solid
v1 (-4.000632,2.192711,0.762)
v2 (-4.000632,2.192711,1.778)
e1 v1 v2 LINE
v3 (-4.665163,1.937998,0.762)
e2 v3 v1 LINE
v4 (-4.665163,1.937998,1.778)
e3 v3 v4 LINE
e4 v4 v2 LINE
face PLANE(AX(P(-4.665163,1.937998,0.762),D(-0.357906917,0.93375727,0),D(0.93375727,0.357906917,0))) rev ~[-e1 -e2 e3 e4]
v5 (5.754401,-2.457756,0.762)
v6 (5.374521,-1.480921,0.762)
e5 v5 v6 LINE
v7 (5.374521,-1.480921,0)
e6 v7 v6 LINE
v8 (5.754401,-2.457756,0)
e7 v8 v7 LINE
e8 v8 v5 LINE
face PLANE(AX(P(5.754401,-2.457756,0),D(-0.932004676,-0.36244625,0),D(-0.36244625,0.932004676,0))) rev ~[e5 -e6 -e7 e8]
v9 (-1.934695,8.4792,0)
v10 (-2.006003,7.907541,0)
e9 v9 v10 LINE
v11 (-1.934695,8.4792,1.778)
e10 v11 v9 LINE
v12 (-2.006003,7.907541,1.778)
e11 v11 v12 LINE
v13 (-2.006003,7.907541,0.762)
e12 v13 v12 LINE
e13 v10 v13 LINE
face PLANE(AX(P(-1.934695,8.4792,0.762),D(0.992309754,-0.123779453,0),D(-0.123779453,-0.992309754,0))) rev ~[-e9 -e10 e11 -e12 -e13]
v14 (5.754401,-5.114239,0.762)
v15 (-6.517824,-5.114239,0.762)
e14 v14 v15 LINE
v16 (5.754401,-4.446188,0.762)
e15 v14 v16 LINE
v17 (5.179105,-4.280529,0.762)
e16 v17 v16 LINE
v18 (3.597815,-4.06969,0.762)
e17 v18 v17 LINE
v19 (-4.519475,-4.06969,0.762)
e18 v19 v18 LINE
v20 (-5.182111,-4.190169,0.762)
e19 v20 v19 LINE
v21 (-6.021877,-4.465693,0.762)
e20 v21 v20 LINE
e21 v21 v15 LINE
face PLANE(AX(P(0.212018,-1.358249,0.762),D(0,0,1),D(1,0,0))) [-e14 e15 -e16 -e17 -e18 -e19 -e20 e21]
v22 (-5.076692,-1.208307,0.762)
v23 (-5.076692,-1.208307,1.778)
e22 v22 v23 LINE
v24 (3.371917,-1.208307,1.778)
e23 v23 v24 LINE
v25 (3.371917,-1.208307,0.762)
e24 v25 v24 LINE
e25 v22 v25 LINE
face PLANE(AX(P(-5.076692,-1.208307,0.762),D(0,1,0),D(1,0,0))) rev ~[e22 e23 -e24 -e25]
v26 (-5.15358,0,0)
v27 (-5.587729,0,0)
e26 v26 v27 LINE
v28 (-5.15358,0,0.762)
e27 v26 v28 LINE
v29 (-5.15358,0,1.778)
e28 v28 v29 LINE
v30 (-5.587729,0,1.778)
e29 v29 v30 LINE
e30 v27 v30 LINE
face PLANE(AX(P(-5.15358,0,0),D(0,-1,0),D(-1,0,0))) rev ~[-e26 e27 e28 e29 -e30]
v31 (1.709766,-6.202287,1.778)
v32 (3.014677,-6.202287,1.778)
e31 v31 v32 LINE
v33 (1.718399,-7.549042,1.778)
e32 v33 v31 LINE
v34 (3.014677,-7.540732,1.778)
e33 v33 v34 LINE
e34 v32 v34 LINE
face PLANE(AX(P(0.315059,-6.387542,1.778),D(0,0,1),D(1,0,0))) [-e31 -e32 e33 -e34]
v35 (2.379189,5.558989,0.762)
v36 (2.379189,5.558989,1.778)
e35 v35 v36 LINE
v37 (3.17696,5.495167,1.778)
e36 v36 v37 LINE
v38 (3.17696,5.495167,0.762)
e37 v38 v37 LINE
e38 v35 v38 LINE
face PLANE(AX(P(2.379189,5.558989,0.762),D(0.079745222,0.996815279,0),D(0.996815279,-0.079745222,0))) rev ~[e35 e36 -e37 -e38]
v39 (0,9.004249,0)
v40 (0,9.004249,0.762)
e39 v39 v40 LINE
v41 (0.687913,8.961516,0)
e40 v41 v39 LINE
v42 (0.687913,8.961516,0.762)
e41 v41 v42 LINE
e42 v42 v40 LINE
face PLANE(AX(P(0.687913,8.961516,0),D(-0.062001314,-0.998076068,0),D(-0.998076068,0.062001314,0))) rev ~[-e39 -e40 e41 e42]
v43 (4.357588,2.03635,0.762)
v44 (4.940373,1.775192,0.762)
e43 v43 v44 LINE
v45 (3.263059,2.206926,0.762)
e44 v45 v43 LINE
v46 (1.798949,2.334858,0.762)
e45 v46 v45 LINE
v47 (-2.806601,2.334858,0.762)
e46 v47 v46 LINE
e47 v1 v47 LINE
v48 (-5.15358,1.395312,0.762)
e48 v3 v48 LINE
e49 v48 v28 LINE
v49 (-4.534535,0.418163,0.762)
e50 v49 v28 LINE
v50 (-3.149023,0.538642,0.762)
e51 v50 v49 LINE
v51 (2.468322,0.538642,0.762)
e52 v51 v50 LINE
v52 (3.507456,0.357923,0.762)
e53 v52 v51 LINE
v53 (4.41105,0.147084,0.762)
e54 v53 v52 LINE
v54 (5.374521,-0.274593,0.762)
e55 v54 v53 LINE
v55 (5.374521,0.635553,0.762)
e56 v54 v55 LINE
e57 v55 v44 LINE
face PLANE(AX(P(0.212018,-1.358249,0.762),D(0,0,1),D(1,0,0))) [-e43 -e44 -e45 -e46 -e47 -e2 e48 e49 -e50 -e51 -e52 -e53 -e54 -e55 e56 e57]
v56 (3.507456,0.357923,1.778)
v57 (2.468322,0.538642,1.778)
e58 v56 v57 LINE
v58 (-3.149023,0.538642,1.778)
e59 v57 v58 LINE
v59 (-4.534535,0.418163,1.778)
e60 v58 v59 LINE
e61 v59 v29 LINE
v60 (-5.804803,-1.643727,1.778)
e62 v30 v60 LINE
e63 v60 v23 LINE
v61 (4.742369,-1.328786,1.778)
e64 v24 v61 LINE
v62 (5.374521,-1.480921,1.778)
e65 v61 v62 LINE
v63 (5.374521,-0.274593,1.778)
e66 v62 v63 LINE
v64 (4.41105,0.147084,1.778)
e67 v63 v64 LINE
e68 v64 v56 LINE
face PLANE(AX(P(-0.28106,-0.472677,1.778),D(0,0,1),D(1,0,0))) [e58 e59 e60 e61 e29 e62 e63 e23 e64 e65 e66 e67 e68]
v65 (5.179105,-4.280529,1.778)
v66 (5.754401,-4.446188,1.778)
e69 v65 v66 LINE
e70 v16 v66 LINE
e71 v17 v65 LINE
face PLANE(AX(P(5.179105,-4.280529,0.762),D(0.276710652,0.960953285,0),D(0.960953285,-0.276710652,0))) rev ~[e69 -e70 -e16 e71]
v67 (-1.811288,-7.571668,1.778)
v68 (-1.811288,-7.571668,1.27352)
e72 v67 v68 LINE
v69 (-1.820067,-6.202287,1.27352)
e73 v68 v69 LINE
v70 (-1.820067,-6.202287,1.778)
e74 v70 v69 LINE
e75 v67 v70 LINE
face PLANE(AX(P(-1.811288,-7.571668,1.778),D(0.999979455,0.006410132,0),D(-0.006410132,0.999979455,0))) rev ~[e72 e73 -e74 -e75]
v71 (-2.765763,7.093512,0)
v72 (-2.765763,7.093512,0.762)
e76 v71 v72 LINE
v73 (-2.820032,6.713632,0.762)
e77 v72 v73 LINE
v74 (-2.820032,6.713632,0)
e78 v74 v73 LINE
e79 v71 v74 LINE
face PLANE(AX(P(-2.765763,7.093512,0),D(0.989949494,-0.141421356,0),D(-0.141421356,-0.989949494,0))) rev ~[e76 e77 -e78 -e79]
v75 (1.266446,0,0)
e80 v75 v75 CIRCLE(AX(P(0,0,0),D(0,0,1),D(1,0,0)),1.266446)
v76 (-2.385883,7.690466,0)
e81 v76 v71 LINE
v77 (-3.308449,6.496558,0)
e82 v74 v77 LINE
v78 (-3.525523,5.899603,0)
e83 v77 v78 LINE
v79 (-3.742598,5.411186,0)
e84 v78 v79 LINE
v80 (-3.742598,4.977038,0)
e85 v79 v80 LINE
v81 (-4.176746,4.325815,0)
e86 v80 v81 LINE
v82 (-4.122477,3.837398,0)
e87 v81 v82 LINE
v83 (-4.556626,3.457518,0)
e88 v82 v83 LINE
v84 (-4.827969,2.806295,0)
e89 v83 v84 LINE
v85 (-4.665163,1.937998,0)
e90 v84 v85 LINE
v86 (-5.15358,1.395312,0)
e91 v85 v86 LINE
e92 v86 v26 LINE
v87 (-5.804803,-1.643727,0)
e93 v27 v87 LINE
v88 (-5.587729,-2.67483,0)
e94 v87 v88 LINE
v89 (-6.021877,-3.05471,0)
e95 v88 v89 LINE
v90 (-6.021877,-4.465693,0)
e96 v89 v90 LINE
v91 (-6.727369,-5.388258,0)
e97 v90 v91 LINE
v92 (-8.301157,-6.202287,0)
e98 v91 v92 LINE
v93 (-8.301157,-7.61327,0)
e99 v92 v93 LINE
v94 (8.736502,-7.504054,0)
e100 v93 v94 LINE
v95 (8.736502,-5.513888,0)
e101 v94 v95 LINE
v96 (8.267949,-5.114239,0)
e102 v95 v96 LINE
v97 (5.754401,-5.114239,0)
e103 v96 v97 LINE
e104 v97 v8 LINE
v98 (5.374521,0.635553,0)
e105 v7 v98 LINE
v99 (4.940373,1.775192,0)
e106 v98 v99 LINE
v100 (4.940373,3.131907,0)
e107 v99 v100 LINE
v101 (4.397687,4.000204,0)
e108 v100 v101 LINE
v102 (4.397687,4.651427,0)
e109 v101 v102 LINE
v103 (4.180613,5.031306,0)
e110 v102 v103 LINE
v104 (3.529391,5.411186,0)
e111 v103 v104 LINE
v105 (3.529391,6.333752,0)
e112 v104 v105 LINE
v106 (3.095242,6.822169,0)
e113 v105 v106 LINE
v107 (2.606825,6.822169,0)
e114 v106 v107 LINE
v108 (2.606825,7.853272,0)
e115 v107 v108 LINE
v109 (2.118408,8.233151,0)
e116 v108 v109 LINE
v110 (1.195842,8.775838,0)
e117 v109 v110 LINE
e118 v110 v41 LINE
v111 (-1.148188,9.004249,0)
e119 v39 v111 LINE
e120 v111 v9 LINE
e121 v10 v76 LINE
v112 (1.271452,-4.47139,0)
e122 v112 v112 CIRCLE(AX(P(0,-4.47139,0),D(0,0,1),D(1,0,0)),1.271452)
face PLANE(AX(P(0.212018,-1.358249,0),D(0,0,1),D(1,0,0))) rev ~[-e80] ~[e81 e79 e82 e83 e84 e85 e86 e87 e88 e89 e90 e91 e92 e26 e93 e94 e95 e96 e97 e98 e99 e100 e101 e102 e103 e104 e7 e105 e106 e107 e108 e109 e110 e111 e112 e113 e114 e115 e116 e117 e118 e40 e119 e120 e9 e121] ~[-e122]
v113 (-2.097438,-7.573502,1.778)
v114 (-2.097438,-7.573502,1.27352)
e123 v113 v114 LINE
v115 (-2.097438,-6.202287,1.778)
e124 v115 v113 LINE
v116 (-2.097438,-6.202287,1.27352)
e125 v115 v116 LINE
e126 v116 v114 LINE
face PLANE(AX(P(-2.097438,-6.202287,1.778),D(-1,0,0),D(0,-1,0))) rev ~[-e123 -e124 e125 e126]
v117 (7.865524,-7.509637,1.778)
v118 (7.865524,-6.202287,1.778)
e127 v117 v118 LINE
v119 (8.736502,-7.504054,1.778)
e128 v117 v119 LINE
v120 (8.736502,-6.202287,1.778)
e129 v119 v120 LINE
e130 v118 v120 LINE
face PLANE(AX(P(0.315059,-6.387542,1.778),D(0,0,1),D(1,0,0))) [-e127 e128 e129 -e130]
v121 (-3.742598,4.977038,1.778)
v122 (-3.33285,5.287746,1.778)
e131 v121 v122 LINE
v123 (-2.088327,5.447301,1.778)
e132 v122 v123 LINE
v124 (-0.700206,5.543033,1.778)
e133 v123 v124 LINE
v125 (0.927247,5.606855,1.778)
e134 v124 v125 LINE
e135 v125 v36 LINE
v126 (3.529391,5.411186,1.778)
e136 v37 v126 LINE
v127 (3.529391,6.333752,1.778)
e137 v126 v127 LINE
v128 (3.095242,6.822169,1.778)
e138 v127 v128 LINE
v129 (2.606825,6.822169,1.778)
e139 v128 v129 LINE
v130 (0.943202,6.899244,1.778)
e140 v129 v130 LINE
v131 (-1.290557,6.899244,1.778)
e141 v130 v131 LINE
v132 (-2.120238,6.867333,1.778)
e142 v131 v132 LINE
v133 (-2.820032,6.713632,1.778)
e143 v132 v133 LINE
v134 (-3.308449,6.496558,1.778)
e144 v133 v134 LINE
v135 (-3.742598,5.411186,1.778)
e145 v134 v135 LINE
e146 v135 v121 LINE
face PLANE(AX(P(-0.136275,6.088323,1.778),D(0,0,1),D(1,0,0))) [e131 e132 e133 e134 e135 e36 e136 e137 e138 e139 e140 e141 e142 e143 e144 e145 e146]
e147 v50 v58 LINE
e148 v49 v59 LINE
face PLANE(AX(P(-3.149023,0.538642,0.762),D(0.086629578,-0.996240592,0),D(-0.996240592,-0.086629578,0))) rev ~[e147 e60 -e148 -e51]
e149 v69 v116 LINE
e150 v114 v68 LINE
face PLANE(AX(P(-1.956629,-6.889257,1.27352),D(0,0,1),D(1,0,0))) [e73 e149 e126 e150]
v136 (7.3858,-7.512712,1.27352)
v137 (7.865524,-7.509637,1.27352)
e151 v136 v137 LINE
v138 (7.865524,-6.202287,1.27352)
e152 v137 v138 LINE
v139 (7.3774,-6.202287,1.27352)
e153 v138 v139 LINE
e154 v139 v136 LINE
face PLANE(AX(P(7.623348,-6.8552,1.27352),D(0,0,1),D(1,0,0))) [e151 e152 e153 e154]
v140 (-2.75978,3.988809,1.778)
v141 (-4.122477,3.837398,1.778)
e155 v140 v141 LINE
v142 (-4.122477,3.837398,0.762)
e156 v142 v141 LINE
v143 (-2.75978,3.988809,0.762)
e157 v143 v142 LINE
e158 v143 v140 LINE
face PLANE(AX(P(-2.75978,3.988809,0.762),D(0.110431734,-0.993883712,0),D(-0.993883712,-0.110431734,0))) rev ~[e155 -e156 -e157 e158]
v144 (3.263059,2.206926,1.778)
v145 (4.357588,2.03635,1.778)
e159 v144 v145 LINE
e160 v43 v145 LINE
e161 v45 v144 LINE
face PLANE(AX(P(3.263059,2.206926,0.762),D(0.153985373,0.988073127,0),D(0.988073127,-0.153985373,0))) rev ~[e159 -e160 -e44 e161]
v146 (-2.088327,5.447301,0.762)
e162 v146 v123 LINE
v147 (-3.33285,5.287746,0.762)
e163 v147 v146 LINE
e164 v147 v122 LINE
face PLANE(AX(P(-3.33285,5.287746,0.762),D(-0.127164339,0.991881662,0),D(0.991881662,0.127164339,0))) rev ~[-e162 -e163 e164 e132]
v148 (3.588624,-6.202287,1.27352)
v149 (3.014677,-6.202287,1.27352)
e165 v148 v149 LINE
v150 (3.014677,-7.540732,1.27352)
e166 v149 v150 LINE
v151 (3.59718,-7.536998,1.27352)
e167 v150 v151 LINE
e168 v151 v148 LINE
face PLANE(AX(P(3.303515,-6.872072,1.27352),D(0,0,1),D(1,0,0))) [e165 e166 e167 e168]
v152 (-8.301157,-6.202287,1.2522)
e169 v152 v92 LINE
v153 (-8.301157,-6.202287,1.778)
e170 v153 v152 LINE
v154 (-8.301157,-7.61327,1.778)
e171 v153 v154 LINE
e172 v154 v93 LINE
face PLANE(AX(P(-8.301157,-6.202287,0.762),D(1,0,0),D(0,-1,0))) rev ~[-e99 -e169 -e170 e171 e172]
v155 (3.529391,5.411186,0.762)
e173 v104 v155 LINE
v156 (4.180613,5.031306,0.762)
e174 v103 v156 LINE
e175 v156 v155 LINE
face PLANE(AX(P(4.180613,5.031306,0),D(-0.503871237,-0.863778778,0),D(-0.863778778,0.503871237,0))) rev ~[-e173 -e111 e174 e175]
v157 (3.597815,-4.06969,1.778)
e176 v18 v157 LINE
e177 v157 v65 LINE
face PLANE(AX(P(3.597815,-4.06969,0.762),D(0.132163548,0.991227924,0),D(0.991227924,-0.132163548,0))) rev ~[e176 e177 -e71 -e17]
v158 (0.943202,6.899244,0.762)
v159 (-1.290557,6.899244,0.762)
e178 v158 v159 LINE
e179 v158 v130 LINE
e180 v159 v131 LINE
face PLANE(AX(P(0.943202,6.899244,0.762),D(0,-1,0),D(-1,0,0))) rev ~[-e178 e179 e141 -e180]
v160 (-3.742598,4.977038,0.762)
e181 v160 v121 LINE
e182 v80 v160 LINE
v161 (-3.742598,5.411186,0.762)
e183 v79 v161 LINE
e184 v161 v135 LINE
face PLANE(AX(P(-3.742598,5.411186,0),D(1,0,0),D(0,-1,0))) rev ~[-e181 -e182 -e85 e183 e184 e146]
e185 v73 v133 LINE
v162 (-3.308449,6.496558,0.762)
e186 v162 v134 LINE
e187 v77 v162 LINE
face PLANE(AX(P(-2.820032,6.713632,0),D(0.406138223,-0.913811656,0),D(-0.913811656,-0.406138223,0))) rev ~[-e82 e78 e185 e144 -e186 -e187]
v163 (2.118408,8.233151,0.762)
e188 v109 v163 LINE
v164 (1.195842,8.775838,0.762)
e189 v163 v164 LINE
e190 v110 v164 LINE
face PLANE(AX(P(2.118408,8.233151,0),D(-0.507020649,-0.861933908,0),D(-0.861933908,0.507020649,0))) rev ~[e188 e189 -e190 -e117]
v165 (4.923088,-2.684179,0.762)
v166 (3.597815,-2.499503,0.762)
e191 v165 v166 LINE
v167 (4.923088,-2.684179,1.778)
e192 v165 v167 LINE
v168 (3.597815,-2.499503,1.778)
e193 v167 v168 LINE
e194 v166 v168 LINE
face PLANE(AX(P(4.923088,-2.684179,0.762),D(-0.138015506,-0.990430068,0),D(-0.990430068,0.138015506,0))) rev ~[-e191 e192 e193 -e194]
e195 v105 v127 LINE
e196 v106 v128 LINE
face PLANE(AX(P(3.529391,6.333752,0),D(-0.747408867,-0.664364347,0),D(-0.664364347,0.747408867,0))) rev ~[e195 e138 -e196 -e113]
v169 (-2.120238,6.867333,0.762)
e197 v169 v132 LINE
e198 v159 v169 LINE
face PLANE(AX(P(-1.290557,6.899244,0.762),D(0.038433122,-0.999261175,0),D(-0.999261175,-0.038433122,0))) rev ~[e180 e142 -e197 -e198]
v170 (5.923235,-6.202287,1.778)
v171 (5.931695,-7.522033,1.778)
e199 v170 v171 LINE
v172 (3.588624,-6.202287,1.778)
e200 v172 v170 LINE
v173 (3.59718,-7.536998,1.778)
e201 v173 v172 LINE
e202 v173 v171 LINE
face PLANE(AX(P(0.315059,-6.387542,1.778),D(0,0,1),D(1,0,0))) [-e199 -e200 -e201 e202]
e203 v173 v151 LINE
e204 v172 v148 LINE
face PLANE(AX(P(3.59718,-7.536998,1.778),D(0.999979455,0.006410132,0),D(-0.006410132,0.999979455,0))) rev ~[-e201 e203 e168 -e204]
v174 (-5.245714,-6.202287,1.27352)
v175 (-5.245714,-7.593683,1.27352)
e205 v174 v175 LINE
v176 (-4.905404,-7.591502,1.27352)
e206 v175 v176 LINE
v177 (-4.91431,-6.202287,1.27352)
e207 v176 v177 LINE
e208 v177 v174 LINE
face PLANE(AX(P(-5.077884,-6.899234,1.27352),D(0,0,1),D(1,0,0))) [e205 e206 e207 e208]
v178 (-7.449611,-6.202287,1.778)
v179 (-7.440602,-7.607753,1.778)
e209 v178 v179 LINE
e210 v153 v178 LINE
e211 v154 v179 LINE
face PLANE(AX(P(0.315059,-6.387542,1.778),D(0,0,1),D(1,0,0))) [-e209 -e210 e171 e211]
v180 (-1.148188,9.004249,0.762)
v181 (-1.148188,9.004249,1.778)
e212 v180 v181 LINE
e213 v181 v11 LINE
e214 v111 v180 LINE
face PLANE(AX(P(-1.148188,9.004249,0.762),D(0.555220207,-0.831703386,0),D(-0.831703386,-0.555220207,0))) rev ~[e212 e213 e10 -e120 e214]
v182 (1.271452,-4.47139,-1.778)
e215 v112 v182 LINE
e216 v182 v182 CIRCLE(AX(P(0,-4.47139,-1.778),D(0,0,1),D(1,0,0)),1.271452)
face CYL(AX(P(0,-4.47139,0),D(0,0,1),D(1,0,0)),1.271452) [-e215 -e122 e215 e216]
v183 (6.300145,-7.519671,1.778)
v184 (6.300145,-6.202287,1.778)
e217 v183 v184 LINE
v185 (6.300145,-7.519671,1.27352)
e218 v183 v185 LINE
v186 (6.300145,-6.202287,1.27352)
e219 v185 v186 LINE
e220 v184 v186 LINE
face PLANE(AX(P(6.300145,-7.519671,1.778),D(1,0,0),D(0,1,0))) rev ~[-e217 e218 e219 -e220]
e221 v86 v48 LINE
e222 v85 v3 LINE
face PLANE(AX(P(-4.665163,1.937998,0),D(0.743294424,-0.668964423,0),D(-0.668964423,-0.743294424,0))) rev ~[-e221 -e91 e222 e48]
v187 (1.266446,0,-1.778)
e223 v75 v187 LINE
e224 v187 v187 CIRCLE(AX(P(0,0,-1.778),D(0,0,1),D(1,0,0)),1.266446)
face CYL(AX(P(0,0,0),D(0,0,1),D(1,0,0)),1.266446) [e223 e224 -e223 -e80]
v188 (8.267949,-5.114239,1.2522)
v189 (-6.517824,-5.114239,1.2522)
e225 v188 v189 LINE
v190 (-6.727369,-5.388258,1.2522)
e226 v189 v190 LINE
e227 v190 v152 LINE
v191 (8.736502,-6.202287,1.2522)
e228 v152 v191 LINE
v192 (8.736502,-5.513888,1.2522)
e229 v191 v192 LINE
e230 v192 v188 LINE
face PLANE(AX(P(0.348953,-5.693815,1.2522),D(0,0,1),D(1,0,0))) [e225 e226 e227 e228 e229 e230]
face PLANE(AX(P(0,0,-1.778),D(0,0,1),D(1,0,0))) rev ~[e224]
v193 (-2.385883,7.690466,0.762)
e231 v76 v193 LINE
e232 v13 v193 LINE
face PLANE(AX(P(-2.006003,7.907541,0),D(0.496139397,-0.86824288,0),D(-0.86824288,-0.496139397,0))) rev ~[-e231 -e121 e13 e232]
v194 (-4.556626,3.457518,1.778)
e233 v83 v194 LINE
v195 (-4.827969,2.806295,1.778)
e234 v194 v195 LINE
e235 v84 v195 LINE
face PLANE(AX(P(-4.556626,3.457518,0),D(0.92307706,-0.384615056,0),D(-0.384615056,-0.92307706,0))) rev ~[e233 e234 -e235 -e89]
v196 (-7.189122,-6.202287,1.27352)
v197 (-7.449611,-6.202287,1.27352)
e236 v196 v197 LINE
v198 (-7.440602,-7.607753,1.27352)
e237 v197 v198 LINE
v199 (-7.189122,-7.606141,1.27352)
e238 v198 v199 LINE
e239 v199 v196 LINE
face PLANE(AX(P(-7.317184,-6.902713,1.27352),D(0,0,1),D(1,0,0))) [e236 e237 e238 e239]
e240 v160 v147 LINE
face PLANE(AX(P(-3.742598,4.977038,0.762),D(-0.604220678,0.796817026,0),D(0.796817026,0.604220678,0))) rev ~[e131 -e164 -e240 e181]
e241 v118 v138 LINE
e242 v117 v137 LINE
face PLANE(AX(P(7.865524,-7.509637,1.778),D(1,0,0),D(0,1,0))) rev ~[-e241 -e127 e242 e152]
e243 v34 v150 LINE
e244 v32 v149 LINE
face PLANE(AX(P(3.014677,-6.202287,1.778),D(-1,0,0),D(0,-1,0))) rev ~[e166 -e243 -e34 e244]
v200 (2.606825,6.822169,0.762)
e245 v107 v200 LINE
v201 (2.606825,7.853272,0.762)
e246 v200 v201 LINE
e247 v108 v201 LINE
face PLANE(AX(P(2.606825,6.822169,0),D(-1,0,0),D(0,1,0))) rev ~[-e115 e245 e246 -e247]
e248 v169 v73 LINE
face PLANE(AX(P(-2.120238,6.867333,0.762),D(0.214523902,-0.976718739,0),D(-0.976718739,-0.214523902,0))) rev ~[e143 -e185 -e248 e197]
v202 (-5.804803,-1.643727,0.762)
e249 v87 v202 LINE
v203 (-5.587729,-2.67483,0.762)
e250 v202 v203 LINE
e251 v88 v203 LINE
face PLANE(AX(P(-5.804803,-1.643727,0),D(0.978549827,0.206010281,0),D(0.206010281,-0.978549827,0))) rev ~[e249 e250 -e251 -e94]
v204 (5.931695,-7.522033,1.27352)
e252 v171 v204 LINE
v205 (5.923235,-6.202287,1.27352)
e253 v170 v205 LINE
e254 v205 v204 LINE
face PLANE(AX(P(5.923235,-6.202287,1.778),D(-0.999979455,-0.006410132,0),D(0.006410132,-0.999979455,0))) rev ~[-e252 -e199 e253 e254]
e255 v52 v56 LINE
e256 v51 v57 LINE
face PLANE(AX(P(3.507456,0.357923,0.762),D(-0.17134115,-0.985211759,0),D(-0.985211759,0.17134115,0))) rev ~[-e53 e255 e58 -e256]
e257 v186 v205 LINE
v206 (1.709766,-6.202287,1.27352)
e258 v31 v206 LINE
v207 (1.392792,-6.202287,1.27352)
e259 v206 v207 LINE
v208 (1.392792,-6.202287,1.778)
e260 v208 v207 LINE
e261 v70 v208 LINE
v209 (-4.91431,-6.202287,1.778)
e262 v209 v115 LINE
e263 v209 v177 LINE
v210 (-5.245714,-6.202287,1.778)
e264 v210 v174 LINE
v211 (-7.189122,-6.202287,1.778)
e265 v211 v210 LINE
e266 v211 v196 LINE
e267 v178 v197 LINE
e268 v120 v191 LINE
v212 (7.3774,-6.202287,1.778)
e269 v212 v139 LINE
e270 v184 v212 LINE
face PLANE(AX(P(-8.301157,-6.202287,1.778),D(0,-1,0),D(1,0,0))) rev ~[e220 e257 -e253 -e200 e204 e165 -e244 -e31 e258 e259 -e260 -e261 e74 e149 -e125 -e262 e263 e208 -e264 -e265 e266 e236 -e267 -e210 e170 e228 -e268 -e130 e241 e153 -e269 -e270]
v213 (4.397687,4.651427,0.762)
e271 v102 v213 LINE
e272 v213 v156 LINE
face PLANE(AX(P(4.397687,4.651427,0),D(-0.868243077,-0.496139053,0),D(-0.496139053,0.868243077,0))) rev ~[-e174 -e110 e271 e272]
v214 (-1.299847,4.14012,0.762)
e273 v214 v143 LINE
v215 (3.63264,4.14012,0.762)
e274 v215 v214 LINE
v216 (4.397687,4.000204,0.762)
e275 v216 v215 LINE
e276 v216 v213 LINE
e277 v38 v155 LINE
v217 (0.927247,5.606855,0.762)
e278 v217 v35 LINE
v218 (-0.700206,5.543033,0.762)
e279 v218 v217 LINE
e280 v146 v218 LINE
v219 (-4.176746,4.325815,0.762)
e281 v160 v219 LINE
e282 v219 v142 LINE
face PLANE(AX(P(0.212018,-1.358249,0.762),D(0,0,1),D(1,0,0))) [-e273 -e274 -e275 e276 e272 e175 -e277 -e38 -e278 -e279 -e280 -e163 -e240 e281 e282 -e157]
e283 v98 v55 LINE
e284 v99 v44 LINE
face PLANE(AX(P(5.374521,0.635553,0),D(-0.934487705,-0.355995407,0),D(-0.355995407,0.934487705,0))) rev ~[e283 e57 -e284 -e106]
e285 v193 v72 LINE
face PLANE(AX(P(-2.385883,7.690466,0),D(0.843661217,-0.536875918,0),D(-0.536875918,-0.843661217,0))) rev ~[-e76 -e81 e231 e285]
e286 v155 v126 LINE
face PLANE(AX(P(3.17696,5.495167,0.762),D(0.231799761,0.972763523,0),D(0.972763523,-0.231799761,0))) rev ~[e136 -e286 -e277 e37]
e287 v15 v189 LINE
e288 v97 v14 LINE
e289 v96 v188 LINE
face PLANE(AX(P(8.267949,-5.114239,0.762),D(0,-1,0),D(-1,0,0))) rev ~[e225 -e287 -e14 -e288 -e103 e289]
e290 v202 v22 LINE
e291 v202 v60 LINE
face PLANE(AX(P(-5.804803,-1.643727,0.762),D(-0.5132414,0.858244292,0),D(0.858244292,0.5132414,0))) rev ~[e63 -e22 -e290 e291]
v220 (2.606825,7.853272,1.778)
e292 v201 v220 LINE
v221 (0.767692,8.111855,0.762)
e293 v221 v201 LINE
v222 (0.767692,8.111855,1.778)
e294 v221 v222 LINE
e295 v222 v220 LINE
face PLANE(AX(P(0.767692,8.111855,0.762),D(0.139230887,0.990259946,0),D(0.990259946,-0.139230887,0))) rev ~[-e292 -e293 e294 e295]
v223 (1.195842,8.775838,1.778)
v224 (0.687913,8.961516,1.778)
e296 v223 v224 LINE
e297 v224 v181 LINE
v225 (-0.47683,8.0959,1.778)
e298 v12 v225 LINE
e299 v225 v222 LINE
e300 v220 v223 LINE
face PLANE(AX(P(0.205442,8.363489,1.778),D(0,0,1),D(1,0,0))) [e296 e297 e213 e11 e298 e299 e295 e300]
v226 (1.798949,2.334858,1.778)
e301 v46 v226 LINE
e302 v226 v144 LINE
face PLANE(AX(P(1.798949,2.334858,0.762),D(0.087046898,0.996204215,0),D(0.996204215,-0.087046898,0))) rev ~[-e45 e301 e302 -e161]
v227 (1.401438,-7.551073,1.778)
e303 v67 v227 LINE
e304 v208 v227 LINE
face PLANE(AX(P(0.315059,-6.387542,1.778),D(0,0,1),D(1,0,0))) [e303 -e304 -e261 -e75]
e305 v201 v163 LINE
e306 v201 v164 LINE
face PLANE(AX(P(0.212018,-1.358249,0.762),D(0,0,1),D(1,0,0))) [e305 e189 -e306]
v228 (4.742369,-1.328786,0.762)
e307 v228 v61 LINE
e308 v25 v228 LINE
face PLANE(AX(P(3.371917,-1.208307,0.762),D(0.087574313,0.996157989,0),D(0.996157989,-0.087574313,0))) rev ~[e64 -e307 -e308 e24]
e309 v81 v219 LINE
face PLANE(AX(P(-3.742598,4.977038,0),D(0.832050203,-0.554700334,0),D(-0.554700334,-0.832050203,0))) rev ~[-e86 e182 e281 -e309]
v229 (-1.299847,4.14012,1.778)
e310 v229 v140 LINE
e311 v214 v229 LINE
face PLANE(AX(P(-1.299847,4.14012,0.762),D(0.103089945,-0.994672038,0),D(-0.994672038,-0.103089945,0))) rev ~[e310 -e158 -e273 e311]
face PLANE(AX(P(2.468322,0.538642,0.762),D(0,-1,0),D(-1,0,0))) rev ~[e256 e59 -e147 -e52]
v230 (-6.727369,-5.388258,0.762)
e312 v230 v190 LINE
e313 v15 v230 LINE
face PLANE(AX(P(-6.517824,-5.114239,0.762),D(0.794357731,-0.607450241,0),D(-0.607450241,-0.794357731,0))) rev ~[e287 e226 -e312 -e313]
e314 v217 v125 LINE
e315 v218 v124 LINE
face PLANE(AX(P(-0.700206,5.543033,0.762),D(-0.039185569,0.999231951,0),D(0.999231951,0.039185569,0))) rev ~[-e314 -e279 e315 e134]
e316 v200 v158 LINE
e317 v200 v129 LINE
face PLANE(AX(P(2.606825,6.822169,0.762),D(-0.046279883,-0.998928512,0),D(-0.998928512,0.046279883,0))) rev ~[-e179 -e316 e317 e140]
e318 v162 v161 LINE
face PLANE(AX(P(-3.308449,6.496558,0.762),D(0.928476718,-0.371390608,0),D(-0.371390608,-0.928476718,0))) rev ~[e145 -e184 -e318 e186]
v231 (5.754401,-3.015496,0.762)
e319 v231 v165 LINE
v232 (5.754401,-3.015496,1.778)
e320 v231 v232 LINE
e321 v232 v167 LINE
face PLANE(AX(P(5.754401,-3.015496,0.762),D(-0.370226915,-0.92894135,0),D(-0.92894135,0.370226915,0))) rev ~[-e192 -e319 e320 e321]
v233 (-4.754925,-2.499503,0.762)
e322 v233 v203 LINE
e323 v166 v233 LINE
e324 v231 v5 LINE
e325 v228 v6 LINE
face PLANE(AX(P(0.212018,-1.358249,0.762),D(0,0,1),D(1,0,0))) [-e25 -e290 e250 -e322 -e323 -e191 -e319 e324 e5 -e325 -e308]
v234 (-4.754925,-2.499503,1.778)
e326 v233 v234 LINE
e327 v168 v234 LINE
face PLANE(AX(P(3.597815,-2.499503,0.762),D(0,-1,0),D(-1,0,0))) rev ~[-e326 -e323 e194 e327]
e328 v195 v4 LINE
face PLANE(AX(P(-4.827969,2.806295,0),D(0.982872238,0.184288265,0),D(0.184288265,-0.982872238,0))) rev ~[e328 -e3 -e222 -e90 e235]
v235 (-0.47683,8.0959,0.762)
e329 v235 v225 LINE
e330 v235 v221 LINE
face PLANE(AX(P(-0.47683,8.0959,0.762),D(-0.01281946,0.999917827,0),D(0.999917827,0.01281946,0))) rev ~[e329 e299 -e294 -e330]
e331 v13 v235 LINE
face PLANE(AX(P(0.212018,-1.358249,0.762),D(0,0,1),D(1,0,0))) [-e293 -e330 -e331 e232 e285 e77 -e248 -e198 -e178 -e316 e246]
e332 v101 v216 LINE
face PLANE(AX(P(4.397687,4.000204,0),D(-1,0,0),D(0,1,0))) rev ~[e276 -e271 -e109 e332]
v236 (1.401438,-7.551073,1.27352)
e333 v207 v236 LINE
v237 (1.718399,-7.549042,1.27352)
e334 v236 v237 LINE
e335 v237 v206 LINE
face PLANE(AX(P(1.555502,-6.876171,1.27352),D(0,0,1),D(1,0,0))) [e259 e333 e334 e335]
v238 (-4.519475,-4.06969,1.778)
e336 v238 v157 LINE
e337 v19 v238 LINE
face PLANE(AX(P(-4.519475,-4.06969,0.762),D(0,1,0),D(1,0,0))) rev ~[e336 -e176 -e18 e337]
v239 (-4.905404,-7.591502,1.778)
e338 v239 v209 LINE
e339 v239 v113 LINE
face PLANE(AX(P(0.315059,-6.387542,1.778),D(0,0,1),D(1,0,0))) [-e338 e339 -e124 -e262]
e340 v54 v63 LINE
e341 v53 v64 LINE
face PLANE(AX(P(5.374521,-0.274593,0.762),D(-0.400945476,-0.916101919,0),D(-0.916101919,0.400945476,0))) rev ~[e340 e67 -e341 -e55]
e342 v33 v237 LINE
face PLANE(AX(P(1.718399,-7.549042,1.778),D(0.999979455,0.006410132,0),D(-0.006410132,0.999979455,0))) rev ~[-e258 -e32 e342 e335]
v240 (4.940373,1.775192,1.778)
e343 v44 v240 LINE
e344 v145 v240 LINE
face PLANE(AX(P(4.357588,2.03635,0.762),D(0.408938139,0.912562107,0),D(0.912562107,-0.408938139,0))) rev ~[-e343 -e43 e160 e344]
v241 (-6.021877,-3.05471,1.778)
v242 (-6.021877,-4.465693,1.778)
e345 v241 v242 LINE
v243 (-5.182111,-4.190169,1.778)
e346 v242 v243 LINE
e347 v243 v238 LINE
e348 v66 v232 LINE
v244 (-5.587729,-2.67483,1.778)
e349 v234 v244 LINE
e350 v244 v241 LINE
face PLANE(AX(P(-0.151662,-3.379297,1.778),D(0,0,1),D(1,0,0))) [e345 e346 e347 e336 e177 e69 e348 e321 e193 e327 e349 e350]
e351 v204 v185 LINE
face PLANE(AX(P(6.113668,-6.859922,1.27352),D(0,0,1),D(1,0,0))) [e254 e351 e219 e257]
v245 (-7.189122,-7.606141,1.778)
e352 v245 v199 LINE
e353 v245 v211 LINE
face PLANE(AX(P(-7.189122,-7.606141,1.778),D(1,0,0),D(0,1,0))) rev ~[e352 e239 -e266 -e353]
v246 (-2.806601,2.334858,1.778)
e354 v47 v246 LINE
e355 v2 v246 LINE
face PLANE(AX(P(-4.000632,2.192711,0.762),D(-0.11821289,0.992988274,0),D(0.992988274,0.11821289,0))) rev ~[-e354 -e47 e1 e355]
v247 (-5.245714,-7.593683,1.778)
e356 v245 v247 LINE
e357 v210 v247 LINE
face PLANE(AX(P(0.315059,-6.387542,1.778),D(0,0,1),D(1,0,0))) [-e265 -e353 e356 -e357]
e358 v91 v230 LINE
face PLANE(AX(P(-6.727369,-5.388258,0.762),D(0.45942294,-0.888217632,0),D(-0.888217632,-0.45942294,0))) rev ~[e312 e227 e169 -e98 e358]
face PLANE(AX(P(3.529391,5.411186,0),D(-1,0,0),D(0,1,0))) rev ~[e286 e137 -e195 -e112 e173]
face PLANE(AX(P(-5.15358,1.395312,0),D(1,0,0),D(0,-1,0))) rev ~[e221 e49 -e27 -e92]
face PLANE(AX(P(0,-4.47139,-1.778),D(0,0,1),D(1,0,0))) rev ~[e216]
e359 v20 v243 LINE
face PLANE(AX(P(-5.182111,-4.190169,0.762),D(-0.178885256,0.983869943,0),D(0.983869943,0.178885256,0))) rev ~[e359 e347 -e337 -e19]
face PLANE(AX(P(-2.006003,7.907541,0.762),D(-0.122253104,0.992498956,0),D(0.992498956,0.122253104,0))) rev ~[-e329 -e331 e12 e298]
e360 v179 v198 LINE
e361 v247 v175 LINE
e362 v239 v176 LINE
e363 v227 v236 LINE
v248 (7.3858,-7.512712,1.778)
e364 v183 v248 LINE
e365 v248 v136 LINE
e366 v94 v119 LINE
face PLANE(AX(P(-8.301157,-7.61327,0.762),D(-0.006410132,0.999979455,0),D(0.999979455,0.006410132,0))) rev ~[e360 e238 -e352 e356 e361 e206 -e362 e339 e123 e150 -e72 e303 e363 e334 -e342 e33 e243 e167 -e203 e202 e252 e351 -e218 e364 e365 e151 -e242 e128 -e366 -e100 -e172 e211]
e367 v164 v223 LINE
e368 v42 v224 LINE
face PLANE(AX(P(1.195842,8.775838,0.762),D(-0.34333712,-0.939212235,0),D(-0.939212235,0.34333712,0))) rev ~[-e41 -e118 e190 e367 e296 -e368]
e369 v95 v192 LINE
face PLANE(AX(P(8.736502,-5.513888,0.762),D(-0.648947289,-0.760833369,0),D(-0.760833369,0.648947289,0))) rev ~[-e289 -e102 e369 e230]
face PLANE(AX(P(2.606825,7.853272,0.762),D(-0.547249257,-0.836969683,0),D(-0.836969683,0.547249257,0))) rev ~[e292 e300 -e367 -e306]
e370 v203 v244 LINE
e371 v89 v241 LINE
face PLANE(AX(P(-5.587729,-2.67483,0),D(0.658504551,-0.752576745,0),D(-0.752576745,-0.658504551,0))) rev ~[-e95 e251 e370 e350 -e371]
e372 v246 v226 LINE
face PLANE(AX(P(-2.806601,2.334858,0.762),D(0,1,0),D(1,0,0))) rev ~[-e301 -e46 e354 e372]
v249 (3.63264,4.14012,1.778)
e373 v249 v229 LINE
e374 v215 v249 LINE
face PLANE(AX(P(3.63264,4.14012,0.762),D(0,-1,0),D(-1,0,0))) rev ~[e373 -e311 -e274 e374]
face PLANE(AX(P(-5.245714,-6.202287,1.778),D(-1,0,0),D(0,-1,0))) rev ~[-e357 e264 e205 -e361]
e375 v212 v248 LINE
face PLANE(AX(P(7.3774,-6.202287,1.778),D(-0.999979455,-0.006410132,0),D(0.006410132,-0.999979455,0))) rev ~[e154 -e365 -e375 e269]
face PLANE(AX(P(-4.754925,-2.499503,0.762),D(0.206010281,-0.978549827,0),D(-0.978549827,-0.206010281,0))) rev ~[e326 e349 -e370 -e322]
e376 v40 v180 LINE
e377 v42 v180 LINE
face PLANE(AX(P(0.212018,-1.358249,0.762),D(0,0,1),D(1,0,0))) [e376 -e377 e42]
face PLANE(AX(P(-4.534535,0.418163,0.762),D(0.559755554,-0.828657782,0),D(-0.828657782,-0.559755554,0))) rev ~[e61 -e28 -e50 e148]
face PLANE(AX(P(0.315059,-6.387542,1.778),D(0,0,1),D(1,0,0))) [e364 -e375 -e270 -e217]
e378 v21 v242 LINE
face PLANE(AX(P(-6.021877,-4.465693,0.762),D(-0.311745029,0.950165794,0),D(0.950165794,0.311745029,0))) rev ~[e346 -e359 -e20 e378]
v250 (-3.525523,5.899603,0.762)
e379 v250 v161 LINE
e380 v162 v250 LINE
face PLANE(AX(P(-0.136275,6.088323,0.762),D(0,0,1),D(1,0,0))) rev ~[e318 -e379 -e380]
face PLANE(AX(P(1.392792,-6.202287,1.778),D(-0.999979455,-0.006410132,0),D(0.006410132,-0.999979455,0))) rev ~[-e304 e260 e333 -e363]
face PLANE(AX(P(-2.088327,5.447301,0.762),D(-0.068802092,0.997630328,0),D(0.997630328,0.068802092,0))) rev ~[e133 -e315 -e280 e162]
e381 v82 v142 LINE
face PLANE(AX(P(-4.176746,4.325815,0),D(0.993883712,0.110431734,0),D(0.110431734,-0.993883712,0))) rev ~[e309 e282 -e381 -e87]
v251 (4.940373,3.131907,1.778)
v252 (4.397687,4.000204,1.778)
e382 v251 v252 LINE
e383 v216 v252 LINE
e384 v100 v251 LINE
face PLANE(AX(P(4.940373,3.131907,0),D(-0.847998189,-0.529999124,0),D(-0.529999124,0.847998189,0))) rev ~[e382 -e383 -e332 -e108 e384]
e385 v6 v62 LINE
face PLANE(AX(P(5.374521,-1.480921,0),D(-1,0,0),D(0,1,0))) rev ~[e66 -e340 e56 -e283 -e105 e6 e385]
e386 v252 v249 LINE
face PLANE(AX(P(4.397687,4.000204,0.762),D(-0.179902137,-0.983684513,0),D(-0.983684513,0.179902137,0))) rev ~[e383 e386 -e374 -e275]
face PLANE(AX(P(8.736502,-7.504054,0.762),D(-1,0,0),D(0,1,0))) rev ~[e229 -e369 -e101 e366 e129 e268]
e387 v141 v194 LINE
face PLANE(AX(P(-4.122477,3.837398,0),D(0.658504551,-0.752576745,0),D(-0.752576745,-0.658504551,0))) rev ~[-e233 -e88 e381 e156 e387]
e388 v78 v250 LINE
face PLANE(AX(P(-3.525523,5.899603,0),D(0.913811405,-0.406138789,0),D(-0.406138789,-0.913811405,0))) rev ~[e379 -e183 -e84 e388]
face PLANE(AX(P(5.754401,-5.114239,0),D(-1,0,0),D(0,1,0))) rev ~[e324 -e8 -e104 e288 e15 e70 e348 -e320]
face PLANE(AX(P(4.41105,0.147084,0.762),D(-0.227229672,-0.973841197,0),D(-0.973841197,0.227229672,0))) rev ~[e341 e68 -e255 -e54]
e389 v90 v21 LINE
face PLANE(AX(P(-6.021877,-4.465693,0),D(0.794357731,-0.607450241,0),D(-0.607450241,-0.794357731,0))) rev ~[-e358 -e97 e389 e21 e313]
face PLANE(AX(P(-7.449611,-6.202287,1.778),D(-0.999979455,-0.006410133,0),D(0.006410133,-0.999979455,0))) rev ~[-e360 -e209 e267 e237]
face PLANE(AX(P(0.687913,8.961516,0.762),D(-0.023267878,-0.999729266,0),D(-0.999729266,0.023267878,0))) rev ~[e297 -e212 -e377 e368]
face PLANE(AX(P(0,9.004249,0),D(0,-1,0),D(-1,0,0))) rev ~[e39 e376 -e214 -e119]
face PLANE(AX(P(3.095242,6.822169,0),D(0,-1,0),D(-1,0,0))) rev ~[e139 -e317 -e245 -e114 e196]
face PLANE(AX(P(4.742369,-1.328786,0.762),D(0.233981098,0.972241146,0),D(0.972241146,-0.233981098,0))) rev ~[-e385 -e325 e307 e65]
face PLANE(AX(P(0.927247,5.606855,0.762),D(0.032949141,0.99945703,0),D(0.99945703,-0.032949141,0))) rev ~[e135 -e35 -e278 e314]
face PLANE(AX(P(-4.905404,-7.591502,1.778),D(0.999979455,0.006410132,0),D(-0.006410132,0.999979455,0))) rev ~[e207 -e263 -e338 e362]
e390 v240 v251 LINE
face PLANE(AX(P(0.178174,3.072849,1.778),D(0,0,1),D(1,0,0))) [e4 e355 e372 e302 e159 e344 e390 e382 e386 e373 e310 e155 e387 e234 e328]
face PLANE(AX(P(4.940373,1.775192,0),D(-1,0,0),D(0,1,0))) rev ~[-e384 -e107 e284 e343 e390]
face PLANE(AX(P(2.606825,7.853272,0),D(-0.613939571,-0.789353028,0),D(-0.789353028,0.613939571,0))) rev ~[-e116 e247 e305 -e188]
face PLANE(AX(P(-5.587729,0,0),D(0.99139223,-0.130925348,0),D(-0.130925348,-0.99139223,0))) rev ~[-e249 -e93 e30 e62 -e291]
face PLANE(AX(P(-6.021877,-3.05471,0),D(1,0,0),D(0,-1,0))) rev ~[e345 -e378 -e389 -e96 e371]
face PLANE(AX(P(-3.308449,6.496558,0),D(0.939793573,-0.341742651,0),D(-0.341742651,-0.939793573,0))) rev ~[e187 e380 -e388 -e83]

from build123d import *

# Parameters (mm, degrees)
F2_DEPTH  = 0.762
F4_DEPTH  = 1.016
F6_DEPTH  = 1.016
F8_DEPTH  = 0.5258
F0_R      = 12.7
F10_DEPTH = 0.50448
F11_R     = 1.2664455111
F11_R_2   = 1.2714517288
F12_DEPTH = 1.778


with BuildPart() as f2:
    # F1 (on face) → F2 (new body)
    with BuildSketch(Plane.XY):
        Polygon((-8.301156573, -6.202286575), (-8.301156573, -7.6132696122), (8.7365023792, -7.5040537175), (8.7365023792, -5.5138876204), (8.2679493353, -5.1142387092), (5.7544014417, -5.1142387092), (5.7544014417, -2.8919042088), (5.7544014417, -2.4577556178), (5.3745214827, -1.4809214044), (5.3745214827, -0.9925042978), (5.3745214827, 0), (5.3745214827, 0.6355526857), (4.9403728917, 1.7751924461), (4.9403728917, 2.4806838483), (4.9403728917, 3.1319067348), (4.3976870365, 4.000203684), (4.3976870365, 4.6514268033), (4.1806129739, 5.0313062966), (3.529390553, 5.4111862555), (3.529390553, 6.3337520696), (3.0952417292, 6.8221688271), (2.6068247389, 6.8221688271), (2.6068247389, 7.853272371), (2.1184075158, 8.2331513986), (1.1958420509, 8.7758377194), (0.6879131543, 8.9615155011), (0, 9.0042492375), (-1.1481875752, 9.0042492375), (-1.9346952904, 8.4792003036), (-2.0060034003, 7.9075405374), (-2.3858833592, 7.6904660091), (-2.7657633182, 7.0935124531), (-2.8200319503, 6.7136320285), (-3.3084489405, 6.4965579659), (-3.5255230032, 5.8996034786), (-3.7425975315, 5.4111862555), (-3.7425975315, 4.9770376645), (-4.1767461225, 4.3258150108), (-4.1224774905, 3.8373982534), (-4.5566260815, 3.4575182945), (-4.8279687762, 2.8062951751), (-4.6651633456, 1.9379982259), (-5.1535801031, 1.3953124871), (-5.1535801031, 0), (-5.5877286941, 0), (-5.8048027568, -1.6437270679), (-5.5877286941, -2.6748299133), (-6.0218772851, -3.0547098722), (-6.0218772851, -4.4656926766), (-6.7273690365, -5.3882584907), align=None)
    extrude(amount=F2_DEPTH)

    # F3 (on face) → F4 (join)
    with BuildSketch(Plane.XY.offset(0.762)):
        Polygon((-8.301156573, -7.6132696122), (8.7365023792, -7.5040537175), (8.7365023792, -5.5138876204), (8.2679493353, -5.1142387092), (5.7544014417, -5.1142387092), (-6.5178244245, -5.1142387092), (-6.7273690365, -5.3882584907), (-8.301156573, -6.202286575), align=None)
    extrude(amount=F4_DEPTH)

    # F5 (on face) → F6 (join)
    with BuildSketch(Plane.XY.offset(0.762)):
        Polygon((-1.9346952904, 8.4792003036), (-2.0060034003, 7.9075405374), (-0.4768302024, 8.0958995968), (0.7676923415, 8.1118550152), (2.6068247389, 7.853272371), (1.1958420509, 8.7758377194), (0.6879131543, 8.9615155011), (-1.1481875752, 9.0042492375), align=None)
        Polygon((-2.1202382632, 6.8673328497), (-2.8200319503, 6.7136320285), (-3.3084489405, 6.4965579659), (-3.7425975315, 5.4111862555), (-3.7425975315, 4.9770376645), (-3.3328498248, 5.2877464332), (-2.0883274265, 5.4473006167), (-0.7002060302, 5.5430331267), (0.927246525, 5.6068548001), (2.3791892454, 5.5589885451), (3.1769601628, 5.4951668717), (3.529390553, 5.4111862555), (3.529390553, 6.3337520696), (3.0952417292, 6.8221688271), (2.6068247389, 6.8221688271), (0.9432018269, 6.8992436863), (-1.290556509, 6.8992436863), align=None)
        Polygon((-2.7597796666, 3.9888094114), (-4.1224774905, 3.8373982534), (-4.5566260815, 3.4575182945), (-4.8279687762, 2.8062951751), (-4.6651633456, 1.9379982259), (-4.0006320924, 2.1927114576), (-2.8066006489, 2.334858058), (-1.3140613446, 2.334858058), (0.1642632997, 2.334858058), (1.7989494372, 2.334858058), (3.263059305, 2.2069262341), (4.3575884774, 2.0363503136), (4.9403728917, 1.7751924461), (4.9403728917, 3.1319067348), (4.3976870365, 4.000203684), (3.6326404661, 4.1401199996), (2.3959649261, 4.1401199996), (0.8465670398, 4.1401199996), (-1.2998466846, 4.1401199996), align=None)
        Polygon((-5.5877286941, 0), (-5.8048027568, -1.6437270679), (-5.076691974, -1.2083072215), (-3.9773182943, -1.2083072215), (-1.5074934345, -1.2083072215), (0.9020918515, -1.2083072215), (3.3719167113, -1.2083072215), (4.7423685901, -1.3287864858), (5.3745214827, -1.4809214044), (5.3745214827, -0.2745929523), (4.4110501185, 0.1470844581), (3.5074558109, 0.3579231852), (2.4683221709, 0.5386420526), (0, 0.5386420526), (-3.1490232795, 0.5386420526), (-4.53453511, 0.4181628174), (-5.1535801031, 0), align=None)
        Polygon((-5.5877286941, -2.6748299133), (-6.0218772851, -3.0547098722), (-6.0218772851, -4.4656926766), (-5.1821111701, -4.1901692748), (-4.5194751583, -4.0696901269), (-2.0044704434, -4.0696901269), (1.4593084343, -4.0696901269), (3.5978152882, -4.0696901269), (5.1791053265, -4.2805285193), (5.7544014417, -4.4461875223), (5.7544014417, -3.0154963024), (4.9230875447, -2.6841785293), (3.5978152882, -2.4995030768), (1.3388292864, -2.4995030768), (-2.4412076455, -2.4995030768), (-4.7549253743, -2.4995030768), align=None)
    extrude(amount=F6_DEPTH)

    # F7 (on face) → F8 (cut)
    with BuildSketch(Plane.XY.offset(1.778)):
        Polygon((-6.7273690365, -5.3882584907), (-8.301156573, -6.202286575), (8.7365023792, -6.202286575), (8.7365023792, -5.5138876204), (8.2679493353, -5.1142387092), (-6.5178244245, -5.1142387092), align=None)
    extrude(amount=-F8_DEPTH, mode=Mode.SUBTRACT)

    # F9 (on face) + F0 (on Top) → F10 (cut)
    with BuildSketch(Plane.XY.offset(1.778)):
        Polygon((-7.4496113843, -6.202286575), (-7.4406019717, -7.6077532299), (-7.1891224943, -7.60614118), (-7.1891224943, -6.202286575), align=None)
        Polygon((-5.2457139827, -6.202286575), (-5.2457139827, -7.593683418), (-4.905404364, -7.5915019435), (-4.9143096015, -6.202286575), align=None)
        Polygon((-2.0974383224, -6.202286575), (-2.0974383224, -7.5735021394), (-1.8112884347, -7.571667843), (-1.8200665304, -6.202286575), align=None)
        Polygon((7.377400318, -6.202286575), (7.3858004916, -7.5127120734), (7.8655239195, -7.5096369195), (7.8655239195, -6.202286575), align=None)
        Polygon((5.9232353463, -6.202286575), (5.9316952713, -7.522033272), (6.3001448289, -7.519671413), (6.3001448289, -6.202286575), align=None)
        Polygon((3.014677437, -6.202286575), (3.014677437, -7.5407321269), (3.5971800525, -7.5369981313), (3.5886241988, -6.202286575), align=None)
        Polygon((1.3927921775, -6.202286575), (1.4014382575, -7.5510734162), (1.7183985864, -7.5490416168), (1.7097655308, -6.202286575), align=None)
    with BuildSketch(Plane.XY):
        Circle(F0_R)
    extrude(amount=-F10_DEPTH, mode=Mode.SUBTRACT)

    # F11 (on face) → F12 (join)
    with BuildSketch(Plane.XY):
        Circle(F11_R)
        with Locations((0, -4.4713900425)):
            Circle(F11_R_2)
    extrude(amount=-F12_DEPTH)


solid = f2.part
